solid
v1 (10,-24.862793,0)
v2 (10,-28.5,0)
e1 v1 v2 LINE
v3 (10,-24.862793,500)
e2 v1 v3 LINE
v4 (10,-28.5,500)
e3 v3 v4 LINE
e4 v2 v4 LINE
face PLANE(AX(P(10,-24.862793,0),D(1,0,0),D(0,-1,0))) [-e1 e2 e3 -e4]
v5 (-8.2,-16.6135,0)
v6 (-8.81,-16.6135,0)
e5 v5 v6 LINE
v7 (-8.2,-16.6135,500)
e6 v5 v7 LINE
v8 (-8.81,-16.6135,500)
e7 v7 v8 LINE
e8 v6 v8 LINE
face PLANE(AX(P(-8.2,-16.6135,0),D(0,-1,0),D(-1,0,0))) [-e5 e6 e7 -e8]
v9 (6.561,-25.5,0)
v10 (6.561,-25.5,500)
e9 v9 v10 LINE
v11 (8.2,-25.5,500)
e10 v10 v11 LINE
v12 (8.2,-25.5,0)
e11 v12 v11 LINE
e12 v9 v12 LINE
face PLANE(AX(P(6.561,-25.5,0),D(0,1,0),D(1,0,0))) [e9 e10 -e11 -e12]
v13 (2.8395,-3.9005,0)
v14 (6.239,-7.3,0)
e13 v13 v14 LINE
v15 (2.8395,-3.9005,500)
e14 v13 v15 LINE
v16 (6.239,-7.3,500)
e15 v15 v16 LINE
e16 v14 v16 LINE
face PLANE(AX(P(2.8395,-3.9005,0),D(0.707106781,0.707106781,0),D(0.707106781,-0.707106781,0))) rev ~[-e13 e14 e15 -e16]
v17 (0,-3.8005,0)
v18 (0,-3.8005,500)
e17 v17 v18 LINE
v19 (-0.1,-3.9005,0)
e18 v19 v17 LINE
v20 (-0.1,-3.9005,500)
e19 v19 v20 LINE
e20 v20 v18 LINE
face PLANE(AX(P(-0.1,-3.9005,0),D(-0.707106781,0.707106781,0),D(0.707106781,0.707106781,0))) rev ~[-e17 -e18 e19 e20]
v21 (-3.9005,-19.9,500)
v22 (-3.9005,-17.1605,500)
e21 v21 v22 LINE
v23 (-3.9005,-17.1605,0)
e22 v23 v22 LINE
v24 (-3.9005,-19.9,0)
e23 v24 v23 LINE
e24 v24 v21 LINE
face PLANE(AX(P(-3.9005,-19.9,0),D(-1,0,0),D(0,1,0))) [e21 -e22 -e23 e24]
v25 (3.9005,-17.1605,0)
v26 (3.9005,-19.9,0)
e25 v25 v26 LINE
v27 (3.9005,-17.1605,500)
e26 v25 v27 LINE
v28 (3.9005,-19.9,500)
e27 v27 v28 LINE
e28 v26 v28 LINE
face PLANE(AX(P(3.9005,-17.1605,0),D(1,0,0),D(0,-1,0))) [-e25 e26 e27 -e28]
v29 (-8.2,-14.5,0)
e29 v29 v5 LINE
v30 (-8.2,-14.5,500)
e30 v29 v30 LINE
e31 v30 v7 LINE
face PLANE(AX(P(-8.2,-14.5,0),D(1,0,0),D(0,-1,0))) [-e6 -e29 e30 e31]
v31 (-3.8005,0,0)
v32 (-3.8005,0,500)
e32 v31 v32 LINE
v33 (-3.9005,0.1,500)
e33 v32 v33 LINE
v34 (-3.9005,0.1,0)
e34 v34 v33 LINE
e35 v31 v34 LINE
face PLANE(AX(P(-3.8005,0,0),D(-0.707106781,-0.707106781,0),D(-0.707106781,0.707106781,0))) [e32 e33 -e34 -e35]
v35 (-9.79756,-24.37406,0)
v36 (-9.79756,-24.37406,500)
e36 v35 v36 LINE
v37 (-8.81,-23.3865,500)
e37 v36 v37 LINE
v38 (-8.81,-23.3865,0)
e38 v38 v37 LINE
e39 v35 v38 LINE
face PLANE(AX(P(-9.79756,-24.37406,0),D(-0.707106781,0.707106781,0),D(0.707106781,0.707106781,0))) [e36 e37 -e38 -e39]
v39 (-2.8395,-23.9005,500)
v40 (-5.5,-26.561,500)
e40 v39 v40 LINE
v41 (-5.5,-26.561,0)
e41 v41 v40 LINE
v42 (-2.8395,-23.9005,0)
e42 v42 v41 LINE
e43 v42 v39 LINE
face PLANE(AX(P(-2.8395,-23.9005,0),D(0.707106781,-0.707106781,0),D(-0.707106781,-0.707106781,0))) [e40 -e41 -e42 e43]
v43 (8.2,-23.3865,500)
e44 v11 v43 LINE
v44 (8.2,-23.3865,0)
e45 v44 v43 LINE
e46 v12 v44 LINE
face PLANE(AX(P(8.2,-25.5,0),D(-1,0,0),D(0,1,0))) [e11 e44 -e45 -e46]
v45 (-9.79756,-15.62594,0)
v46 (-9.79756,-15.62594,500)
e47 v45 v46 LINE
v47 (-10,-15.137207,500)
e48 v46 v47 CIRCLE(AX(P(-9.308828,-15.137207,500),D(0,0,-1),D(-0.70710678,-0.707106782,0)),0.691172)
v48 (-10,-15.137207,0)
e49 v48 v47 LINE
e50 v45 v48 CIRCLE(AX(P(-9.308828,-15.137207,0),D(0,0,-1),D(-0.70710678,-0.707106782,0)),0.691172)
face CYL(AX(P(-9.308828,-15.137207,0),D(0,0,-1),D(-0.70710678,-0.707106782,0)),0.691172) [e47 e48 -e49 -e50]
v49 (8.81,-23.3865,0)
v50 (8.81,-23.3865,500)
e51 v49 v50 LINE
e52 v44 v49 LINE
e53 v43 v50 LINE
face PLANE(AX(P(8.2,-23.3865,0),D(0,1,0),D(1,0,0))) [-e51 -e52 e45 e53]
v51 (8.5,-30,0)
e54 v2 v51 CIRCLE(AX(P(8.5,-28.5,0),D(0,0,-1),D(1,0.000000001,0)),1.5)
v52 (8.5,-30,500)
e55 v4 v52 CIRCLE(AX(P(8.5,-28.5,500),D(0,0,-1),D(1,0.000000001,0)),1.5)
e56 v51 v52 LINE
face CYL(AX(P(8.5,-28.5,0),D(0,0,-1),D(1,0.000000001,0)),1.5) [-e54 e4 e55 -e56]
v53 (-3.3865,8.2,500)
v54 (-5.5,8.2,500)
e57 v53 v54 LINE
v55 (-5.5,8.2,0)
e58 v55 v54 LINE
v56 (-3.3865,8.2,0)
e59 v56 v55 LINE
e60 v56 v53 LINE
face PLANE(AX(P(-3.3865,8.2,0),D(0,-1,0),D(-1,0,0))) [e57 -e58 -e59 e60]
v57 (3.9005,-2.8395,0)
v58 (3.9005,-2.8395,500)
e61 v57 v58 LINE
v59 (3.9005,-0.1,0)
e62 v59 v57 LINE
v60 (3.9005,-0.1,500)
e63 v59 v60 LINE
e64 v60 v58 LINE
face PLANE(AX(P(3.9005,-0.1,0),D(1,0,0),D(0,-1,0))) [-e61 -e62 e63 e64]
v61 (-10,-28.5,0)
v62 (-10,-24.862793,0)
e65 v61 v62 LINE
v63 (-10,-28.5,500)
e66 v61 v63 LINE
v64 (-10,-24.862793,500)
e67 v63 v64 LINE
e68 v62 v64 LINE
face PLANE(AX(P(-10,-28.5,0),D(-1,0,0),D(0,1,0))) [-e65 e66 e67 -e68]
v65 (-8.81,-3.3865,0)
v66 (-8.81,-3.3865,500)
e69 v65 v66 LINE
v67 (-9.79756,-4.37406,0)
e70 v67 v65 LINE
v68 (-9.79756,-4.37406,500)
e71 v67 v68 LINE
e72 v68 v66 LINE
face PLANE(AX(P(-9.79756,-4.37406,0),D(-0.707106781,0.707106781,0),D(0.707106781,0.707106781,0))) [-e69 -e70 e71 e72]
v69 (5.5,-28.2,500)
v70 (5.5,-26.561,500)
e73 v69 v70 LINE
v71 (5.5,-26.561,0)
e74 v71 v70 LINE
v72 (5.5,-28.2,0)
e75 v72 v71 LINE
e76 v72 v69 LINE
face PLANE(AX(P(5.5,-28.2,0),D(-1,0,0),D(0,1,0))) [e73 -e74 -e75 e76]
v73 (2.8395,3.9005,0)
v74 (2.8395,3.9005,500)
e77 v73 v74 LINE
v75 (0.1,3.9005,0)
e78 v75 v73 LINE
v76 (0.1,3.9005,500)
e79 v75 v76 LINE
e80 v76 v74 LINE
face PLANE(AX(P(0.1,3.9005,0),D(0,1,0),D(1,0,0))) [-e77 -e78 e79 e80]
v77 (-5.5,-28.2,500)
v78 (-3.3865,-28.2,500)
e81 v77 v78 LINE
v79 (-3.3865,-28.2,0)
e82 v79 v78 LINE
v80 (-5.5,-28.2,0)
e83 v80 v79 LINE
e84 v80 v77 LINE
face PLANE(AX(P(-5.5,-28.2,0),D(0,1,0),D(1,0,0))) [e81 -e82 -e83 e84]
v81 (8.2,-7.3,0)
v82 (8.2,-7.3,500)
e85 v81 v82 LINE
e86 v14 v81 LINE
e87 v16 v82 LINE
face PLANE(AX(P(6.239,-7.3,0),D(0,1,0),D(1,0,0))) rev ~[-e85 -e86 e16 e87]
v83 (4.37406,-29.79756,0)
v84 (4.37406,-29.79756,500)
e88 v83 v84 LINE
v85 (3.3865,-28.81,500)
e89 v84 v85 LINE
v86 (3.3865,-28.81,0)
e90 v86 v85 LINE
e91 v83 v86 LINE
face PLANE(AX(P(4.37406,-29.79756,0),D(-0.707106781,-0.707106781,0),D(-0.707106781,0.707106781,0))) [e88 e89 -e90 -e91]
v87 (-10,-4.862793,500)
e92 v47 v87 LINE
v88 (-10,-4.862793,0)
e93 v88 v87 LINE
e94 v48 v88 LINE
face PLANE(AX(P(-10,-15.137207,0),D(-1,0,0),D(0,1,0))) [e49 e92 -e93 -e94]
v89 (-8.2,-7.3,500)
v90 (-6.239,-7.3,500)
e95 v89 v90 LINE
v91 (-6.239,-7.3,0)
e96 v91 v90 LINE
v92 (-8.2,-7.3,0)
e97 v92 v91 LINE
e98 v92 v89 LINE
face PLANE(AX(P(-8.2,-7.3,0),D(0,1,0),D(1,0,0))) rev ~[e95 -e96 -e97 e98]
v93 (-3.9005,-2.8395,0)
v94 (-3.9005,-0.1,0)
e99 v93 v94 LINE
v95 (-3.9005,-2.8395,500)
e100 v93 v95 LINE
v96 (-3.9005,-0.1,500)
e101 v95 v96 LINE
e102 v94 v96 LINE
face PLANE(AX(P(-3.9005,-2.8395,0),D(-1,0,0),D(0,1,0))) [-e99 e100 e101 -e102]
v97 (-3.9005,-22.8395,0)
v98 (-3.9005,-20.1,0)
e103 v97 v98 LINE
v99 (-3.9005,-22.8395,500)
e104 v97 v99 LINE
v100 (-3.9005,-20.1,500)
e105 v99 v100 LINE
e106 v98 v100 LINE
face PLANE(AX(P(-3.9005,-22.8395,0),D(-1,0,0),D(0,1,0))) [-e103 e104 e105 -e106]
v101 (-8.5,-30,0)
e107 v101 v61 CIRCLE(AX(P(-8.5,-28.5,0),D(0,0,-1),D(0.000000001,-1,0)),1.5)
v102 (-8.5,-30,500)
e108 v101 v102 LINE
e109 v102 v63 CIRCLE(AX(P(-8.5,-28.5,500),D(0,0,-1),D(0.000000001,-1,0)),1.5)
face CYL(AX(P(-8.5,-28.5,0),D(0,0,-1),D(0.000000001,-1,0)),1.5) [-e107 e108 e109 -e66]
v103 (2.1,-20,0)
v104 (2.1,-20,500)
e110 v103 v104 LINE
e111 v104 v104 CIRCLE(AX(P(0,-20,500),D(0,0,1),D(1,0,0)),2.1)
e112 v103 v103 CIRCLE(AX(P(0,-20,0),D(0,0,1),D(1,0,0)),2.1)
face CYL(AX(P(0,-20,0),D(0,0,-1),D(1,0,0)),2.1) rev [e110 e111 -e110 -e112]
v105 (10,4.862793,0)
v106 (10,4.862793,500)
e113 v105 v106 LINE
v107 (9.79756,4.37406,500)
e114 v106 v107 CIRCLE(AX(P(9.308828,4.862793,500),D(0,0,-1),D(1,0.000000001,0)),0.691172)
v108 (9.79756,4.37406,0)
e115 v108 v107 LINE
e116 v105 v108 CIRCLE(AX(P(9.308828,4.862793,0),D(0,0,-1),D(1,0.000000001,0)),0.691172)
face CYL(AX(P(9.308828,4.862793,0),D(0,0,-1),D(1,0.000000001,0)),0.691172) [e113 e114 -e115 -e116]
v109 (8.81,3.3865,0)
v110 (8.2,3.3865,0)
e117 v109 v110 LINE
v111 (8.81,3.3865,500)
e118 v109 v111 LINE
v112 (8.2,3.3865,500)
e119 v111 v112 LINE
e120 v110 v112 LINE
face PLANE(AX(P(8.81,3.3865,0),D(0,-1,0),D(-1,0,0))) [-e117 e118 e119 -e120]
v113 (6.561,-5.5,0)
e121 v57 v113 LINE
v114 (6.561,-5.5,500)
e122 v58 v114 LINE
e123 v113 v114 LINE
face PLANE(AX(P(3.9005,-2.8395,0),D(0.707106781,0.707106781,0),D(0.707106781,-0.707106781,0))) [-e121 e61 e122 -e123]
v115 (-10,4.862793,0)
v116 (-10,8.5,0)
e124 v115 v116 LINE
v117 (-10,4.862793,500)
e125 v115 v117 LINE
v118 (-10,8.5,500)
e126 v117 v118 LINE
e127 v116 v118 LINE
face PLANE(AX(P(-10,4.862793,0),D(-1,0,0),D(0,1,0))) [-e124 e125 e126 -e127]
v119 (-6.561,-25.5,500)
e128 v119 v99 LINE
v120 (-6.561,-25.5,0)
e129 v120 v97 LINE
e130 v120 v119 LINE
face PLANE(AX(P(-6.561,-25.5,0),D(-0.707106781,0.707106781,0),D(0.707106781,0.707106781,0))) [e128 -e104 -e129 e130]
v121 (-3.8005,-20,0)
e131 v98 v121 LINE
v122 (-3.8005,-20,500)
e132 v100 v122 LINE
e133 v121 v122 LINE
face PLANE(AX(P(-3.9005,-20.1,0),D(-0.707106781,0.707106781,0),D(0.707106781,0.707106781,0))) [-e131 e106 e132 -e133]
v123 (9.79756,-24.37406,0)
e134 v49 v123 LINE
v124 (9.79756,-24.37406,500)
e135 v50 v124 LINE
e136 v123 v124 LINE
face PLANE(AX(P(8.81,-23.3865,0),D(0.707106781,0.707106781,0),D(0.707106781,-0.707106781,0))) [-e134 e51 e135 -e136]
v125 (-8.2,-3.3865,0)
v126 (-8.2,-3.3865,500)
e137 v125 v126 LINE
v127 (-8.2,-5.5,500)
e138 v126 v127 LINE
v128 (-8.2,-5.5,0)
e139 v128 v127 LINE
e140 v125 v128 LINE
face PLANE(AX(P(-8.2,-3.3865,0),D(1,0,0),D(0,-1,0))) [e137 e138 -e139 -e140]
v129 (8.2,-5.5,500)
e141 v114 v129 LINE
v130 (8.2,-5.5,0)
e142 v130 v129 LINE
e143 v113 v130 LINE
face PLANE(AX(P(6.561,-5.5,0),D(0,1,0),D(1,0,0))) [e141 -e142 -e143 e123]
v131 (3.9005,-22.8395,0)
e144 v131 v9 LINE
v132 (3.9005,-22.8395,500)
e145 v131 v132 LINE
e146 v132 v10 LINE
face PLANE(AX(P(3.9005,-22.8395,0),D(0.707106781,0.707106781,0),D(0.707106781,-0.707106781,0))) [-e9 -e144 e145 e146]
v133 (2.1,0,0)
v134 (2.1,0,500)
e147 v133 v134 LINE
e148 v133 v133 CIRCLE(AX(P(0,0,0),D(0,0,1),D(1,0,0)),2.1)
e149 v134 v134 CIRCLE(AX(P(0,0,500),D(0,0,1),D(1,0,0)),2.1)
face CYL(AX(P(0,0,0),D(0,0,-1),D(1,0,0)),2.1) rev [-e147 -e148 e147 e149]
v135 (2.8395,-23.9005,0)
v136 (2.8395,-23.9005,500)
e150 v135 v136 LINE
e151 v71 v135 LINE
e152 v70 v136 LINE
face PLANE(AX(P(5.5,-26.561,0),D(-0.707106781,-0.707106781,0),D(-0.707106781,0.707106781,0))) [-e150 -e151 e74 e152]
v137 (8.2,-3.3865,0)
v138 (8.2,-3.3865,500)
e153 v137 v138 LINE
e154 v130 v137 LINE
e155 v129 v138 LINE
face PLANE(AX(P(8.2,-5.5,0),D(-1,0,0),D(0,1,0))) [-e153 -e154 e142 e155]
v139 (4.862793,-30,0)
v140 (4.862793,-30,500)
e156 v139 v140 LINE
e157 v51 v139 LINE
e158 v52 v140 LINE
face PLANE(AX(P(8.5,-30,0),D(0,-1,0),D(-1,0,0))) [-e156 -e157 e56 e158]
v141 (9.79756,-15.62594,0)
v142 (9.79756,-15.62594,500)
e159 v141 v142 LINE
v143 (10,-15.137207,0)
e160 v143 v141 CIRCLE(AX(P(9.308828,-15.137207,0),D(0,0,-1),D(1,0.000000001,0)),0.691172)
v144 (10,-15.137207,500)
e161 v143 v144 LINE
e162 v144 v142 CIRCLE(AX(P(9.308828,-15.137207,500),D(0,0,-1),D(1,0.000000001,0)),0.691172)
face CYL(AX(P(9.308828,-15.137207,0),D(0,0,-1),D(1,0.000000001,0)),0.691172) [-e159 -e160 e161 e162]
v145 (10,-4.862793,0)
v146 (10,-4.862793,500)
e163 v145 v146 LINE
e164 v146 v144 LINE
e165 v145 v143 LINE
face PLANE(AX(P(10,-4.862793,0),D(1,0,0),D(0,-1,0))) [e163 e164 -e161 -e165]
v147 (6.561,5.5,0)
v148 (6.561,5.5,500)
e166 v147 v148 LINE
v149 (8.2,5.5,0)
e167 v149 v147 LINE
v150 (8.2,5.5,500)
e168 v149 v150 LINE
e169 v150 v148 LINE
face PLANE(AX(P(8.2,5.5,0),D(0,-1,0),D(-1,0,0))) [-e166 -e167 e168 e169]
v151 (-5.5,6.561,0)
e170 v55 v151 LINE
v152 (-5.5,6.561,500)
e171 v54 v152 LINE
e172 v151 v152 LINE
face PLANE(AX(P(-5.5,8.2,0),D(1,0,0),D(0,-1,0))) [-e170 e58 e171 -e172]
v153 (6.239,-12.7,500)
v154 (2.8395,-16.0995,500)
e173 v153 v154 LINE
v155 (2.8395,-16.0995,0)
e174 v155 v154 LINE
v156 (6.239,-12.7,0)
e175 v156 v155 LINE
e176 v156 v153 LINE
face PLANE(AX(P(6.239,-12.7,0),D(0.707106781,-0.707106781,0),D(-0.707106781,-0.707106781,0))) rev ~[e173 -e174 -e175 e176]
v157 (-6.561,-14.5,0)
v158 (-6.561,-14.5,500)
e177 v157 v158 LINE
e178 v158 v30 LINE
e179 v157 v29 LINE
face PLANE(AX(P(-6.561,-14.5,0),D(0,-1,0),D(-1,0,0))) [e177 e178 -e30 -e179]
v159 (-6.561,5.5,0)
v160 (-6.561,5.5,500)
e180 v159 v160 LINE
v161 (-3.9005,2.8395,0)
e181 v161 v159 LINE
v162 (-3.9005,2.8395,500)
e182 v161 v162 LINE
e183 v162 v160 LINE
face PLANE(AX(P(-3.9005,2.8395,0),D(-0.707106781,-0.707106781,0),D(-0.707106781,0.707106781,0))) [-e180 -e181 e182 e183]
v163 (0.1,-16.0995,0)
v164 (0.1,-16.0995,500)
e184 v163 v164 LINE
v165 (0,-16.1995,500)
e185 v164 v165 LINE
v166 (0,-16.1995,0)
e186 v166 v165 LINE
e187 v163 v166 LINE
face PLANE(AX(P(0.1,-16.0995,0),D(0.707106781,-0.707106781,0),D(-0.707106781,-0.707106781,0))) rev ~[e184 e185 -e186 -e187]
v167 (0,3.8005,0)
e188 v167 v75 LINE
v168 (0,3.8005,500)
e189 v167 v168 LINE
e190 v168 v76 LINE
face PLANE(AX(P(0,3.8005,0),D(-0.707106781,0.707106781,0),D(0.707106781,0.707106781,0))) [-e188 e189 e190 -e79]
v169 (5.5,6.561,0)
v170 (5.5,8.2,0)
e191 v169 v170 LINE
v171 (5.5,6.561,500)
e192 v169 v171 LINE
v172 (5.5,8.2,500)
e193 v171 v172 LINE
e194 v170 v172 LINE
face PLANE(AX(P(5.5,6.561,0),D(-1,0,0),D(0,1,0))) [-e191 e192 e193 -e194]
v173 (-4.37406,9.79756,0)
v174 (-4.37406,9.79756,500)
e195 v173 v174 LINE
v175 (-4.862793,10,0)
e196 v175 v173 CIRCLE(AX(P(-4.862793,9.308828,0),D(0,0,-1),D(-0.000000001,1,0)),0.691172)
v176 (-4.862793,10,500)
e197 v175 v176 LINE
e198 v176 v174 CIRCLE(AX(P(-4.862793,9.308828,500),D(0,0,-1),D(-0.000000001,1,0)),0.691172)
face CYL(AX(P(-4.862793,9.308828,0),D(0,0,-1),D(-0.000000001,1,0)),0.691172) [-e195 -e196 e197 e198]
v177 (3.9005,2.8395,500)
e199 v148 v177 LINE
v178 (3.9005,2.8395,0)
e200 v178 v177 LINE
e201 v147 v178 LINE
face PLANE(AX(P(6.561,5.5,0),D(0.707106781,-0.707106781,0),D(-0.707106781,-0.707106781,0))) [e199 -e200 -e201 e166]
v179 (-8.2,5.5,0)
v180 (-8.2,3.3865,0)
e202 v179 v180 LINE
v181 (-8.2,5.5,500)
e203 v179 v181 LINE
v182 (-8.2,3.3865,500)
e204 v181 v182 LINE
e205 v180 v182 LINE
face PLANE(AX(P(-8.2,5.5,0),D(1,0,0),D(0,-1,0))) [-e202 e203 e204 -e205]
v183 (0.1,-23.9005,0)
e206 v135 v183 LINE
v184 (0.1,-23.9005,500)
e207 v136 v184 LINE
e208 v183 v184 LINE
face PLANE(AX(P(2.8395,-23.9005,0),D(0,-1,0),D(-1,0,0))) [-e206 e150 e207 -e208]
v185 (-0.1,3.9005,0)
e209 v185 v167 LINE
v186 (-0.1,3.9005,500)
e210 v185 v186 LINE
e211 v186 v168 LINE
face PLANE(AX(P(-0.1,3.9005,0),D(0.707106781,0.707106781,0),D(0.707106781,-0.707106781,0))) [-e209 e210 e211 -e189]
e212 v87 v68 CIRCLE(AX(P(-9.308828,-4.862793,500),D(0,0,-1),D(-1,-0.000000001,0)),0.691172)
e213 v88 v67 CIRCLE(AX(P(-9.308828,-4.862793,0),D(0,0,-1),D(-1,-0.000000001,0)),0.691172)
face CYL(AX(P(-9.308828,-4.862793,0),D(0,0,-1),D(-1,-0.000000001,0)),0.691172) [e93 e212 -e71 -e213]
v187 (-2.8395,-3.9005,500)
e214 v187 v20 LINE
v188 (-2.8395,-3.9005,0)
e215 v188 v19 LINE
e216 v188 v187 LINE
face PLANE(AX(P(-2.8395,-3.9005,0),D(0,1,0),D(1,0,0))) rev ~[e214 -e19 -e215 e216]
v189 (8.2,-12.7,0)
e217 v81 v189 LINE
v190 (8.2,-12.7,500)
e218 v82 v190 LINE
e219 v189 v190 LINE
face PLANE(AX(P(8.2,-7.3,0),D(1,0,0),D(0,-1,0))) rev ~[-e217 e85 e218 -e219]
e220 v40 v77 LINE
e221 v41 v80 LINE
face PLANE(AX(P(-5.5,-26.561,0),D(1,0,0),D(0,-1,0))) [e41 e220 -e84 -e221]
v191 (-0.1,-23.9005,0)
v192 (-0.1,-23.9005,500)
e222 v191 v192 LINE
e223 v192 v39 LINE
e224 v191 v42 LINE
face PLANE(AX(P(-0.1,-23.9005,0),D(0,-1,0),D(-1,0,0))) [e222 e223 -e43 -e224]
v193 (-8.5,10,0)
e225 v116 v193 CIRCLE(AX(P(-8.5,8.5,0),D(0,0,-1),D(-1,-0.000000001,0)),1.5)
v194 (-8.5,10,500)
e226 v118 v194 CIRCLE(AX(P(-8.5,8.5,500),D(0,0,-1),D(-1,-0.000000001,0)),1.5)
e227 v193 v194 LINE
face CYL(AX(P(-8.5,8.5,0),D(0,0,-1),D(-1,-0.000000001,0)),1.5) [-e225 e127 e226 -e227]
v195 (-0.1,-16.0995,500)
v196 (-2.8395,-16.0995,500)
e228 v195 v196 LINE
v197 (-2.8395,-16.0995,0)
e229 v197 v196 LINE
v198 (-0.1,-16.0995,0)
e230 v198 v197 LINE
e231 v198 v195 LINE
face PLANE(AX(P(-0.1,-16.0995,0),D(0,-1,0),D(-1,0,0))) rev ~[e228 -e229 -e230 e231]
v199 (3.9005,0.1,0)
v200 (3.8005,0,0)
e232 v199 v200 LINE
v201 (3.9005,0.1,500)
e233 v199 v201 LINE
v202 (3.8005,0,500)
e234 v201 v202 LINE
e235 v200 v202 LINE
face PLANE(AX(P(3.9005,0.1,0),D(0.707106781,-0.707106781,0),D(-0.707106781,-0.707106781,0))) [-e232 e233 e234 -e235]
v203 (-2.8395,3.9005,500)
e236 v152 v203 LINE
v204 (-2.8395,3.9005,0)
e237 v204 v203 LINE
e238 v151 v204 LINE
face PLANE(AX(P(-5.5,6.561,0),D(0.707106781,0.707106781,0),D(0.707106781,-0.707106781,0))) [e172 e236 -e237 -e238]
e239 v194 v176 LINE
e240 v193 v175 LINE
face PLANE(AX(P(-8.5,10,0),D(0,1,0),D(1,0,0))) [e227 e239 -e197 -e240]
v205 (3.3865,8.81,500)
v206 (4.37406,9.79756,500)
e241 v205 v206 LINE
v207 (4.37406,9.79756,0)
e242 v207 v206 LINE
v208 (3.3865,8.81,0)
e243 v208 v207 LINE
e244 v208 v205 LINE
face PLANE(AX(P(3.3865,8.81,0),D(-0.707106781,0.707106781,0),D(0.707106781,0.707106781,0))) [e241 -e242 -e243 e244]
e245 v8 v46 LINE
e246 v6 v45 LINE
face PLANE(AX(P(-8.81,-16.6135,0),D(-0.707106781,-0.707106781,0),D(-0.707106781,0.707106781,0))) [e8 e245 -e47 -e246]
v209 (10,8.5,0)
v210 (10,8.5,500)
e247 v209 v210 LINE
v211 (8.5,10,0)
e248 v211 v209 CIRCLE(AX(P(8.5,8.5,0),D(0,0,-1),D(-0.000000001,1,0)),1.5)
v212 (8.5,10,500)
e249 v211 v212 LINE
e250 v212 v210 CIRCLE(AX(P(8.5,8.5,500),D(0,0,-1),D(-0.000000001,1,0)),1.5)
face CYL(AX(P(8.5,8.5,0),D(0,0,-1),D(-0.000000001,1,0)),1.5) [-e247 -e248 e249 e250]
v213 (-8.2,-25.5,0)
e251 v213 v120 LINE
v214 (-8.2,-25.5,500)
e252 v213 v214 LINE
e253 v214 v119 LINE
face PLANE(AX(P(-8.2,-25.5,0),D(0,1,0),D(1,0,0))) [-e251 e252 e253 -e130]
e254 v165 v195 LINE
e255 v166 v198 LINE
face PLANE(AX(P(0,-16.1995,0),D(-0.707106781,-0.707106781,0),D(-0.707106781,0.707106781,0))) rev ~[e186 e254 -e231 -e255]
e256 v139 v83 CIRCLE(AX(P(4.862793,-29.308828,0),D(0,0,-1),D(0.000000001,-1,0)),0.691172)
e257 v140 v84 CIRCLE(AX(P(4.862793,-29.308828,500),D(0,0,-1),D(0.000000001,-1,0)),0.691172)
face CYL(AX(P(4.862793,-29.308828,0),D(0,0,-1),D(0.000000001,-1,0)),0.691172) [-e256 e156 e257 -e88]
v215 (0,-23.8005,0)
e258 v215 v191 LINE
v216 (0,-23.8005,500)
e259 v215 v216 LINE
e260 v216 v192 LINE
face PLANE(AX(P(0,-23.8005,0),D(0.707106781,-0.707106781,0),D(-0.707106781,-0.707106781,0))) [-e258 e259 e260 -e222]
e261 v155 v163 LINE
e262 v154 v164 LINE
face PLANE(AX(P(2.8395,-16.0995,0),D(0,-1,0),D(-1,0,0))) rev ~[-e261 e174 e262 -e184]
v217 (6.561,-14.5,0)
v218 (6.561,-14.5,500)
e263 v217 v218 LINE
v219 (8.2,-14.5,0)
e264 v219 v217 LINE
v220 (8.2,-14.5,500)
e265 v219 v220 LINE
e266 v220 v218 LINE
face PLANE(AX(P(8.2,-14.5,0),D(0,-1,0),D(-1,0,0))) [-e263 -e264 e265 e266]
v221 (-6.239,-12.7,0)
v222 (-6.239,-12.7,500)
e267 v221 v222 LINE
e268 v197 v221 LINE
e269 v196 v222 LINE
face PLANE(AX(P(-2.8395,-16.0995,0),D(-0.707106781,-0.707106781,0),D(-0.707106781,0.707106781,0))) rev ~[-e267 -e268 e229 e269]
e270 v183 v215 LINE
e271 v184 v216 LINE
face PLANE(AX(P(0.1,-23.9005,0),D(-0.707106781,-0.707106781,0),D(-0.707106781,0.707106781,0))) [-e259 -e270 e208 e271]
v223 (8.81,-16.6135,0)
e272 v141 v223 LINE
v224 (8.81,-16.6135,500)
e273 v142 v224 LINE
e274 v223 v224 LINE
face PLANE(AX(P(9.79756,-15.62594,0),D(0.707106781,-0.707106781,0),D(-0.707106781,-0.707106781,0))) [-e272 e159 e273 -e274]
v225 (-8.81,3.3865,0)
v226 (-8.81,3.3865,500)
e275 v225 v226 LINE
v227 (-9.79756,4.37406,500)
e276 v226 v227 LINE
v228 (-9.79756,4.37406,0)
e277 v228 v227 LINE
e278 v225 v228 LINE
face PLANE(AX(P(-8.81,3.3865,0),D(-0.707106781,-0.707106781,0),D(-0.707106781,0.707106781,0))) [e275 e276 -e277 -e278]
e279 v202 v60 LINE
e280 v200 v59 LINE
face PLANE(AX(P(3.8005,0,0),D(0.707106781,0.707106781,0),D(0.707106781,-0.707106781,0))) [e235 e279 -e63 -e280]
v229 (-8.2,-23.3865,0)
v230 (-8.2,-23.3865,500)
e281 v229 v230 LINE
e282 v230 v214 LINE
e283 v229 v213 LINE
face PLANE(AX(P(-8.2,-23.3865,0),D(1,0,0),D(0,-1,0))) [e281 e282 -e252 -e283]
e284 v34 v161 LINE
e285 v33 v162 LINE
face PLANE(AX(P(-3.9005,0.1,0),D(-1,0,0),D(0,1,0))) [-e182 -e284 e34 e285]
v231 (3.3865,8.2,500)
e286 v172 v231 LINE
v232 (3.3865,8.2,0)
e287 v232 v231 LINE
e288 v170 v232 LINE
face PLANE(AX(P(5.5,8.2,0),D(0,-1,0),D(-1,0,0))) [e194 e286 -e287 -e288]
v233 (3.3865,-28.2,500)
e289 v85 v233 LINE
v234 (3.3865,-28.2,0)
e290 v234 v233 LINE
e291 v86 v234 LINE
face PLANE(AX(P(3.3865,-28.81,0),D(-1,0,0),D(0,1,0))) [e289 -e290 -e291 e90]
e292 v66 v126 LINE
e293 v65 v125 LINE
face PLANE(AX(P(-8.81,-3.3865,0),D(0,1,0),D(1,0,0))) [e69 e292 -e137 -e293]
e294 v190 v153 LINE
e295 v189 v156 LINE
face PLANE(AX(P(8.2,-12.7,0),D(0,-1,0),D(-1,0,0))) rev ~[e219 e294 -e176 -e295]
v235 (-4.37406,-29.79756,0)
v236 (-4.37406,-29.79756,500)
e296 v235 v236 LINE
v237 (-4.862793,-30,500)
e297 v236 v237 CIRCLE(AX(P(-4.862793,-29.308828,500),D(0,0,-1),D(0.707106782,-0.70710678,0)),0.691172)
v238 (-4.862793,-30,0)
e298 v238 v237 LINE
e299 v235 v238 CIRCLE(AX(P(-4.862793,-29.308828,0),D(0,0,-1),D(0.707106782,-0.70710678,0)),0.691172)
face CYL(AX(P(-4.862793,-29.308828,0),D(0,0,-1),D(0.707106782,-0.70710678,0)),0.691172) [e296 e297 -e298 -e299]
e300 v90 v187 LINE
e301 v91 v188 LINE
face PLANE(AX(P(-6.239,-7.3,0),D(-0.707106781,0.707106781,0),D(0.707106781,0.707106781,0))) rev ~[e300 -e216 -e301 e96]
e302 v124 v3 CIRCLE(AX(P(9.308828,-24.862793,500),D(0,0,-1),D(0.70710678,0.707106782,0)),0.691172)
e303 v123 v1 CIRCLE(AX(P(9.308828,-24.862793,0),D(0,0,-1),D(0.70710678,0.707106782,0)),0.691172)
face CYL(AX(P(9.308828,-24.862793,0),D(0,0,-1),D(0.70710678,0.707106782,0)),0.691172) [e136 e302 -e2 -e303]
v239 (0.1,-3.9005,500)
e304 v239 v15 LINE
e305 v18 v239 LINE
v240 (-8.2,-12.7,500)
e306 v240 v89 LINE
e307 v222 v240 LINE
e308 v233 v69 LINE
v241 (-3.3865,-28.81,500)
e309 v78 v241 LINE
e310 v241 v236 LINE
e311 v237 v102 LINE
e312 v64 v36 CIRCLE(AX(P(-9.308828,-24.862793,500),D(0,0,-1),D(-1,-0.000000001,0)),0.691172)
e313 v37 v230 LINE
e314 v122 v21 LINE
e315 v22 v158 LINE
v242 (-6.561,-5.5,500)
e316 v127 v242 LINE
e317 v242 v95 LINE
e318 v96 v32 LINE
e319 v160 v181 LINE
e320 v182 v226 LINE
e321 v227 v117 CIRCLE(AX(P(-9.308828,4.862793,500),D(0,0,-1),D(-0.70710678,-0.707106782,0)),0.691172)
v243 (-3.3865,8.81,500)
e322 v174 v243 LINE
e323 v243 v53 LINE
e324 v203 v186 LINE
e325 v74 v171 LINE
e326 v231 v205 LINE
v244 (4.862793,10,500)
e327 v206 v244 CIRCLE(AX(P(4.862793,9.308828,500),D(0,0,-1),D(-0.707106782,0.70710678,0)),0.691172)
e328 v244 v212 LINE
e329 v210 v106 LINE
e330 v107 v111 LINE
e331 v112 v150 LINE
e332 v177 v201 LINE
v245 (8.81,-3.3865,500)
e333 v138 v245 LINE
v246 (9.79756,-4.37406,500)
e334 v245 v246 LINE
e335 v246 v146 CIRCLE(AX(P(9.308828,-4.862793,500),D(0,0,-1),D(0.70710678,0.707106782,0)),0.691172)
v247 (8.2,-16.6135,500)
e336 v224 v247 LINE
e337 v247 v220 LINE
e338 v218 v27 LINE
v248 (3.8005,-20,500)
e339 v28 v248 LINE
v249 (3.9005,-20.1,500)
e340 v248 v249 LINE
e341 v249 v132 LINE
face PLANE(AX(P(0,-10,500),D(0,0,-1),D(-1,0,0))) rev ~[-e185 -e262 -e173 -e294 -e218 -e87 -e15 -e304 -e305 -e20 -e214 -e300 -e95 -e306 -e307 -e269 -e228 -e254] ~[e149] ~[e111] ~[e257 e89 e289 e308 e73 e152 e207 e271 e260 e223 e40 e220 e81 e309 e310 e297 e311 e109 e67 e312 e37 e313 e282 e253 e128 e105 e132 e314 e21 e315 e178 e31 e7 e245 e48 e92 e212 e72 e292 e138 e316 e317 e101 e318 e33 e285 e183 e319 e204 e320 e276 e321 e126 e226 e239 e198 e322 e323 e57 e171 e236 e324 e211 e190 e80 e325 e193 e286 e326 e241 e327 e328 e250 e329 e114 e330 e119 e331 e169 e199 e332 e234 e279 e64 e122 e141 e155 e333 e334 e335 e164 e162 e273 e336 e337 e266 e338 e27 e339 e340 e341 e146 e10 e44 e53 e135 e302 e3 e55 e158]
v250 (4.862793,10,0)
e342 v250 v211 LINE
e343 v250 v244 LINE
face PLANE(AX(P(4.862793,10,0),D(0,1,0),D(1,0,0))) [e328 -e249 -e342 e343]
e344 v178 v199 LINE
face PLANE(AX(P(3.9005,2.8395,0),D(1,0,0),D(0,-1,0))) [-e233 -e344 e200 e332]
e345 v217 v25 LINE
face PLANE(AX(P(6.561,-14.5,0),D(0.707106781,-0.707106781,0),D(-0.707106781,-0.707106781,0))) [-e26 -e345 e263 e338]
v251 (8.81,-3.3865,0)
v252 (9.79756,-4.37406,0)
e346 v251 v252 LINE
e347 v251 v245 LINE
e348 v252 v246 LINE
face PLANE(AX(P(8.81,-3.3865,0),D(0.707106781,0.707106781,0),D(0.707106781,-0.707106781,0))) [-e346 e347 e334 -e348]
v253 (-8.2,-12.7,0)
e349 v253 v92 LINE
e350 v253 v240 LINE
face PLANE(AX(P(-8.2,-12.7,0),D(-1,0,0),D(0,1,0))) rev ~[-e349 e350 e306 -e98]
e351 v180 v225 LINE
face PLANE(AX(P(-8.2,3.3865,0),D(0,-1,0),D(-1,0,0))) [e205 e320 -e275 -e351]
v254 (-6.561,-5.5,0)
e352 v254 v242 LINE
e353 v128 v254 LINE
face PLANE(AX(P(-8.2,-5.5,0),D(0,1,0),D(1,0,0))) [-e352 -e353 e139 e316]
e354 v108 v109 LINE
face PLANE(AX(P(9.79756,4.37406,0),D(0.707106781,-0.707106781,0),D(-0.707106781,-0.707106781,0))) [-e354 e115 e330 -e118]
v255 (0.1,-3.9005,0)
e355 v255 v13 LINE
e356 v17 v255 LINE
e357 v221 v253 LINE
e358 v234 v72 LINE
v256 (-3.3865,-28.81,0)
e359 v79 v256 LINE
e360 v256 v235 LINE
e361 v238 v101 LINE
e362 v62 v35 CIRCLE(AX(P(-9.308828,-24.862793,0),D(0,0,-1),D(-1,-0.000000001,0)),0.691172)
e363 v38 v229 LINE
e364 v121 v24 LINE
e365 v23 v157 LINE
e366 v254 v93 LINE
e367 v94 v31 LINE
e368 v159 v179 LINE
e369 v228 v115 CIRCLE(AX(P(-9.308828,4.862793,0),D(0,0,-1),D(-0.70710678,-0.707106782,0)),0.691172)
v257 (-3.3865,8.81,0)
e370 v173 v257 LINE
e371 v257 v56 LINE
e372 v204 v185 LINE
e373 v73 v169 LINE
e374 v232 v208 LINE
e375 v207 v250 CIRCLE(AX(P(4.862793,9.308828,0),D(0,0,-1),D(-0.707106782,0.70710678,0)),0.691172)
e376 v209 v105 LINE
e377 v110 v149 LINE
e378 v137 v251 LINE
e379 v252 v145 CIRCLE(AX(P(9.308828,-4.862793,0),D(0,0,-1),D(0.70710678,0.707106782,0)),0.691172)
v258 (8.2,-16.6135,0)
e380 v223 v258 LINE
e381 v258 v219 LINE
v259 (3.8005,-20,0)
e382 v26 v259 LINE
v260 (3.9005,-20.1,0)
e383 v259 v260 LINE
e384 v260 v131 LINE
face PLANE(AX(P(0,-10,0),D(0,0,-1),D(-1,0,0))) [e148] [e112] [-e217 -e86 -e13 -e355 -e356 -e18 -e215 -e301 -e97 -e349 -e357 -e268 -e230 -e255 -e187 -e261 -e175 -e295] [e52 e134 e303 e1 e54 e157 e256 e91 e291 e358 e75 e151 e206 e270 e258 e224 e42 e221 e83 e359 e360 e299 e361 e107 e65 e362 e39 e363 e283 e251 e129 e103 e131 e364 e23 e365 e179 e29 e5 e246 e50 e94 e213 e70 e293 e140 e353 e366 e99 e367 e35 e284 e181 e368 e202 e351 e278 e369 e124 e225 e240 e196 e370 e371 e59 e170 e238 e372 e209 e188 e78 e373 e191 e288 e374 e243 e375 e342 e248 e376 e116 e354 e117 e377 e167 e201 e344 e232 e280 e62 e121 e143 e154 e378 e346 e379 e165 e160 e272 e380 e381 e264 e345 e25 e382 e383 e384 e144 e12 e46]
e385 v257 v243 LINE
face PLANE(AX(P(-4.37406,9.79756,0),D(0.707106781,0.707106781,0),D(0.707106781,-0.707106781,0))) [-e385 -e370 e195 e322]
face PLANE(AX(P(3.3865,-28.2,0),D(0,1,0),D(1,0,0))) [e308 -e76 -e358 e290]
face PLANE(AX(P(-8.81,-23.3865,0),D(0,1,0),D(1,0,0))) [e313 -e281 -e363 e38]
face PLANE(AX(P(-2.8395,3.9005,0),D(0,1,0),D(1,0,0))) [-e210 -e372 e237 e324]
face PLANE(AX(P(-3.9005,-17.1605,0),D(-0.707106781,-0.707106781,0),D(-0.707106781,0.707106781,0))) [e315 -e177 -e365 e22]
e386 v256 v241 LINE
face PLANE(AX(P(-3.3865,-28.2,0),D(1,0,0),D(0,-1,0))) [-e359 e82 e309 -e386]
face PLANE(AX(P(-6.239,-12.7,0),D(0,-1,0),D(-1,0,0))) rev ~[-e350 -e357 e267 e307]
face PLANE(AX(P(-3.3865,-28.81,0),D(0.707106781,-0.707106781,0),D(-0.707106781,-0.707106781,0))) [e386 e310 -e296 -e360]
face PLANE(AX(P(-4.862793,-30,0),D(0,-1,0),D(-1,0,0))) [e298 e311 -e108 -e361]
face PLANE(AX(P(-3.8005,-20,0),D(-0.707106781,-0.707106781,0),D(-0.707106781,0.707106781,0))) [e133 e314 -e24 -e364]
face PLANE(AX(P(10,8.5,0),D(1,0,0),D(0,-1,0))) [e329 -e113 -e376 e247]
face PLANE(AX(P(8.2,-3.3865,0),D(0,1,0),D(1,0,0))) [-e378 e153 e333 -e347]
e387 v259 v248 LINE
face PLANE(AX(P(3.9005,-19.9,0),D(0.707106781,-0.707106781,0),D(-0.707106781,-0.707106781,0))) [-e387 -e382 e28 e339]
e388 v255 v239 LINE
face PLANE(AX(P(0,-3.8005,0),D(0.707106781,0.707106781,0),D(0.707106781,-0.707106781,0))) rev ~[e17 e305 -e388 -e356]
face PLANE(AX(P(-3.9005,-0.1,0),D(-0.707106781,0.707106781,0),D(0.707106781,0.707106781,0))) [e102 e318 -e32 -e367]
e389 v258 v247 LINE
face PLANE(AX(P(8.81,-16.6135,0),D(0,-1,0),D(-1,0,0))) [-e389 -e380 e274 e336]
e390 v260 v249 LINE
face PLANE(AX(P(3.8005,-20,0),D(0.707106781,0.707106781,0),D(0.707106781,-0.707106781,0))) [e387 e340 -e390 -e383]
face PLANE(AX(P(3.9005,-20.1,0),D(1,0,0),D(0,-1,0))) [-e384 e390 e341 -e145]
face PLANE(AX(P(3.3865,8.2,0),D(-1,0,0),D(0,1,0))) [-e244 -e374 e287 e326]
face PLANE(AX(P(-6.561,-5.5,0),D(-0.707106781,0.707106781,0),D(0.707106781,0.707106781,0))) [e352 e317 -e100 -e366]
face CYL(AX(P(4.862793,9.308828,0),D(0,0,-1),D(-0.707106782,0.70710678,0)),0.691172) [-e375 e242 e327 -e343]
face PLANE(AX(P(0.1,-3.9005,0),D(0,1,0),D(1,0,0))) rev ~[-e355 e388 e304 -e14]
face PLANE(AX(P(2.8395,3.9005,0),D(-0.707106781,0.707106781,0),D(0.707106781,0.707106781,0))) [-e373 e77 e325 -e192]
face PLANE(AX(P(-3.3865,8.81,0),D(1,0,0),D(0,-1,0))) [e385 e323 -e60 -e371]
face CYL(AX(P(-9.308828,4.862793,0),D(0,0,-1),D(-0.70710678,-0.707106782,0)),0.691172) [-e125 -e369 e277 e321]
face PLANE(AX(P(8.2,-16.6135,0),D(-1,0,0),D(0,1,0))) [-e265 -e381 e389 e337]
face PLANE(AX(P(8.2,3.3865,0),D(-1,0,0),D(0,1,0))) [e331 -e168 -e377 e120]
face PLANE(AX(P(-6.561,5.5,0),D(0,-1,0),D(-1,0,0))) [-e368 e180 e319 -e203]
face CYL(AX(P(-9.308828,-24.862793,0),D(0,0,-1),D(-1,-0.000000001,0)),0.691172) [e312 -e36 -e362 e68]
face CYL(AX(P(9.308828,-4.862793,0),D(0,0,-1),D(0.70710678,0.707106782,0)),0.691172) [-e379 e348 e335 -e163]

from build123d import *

# Parameters (mm, degrees)
SKETCH1_R           = 2.1
BOSS_EXTRUDE2_DEPTH = 500


with BuildPart() as part:
    # Sketch1 → Boss-Extrude2 (new body)
    with BuildSketch(Plane.XY):
        with BuildLine():
            Line((-8.5, 10), (-4.862792737, 10))
            ThreePointArc((-4.862792737, 10), (-4.598292737, 9.947387679), (-4.374060464, 9.797560464))
            Line((-4.374060464, 9.797560464), (-3.3865, 8.81))
            Line((-3.3865, 8.81), (-3.3865, 8.2))
            Line((-3.3865, 8.2), (-5.5, 8.2))
            Line((-5.5, 8.2), (-5.5, 6.561))
            Line((-5.5, 6.561), (-2.8395, 3.9005))
            Line((-2.8395, 3.9005), (-0.1, 3.9005))
            Line((-0.1, 3.9005), (0, 3.8005))
            Line((0, 3.8005), (0.1, 3.9005))
            Line((0.1, 3.9005), (2.8395, 3.9005))
            Line((2.8395, 3.9005), (5.5, 6.561))
            Line((5.5, 6.561), (5.5, 8.2))
            Line((5.5, 8.2), (3.3865, 8.2))
            Line((3.3865, 8.2), (3.3865, 8.81))
            Line((3.3865, 8.81), (4.374060464, 9.797560464))
            ThreePointArc((4.374060464, 9.797560464), (4.598292737, 9.947387679), (4.862792737, 10))
            Line((4.862792737, 10), (8.5, 10))
            ThreePointArc((8.5, 10), (9.560660172, 9.560660172), (10, 8.5))
            Line((10, 8.5), (10, 4.862792737))
            ThreePointArc((10, 4.862792737), (9.947387679, 4.598292737), (9.797560464, 4.374060464))
            Line((9.797560464, 4.374060464), (8.81, 3.3865))
            Line((8.81, 3.3865), (8.2, 3.3865))
            Line((8.2, 3.3865), (8.2, 5.5))
            Line((8.2, 5.5), (6.561, 5.5))
            Line((6.561, 5.5), (3.9005, 2.8395))
            Line((3.9005, 2.8395), (3.9005, 0.1))
            Line((3.9005, 0.1), (3.8005, 0))
            Line((3.8005, 0), (3.9005, -0.1))
            Line((3.9005, -0.1), (3.9005, -2.8395))
            Line((3.9005, -2.8395), (6.561, -5.5))
            Line((6.561, -5.5), (8.2, -5.5))
            Line((8.2, -5.5), (8.2, -3.3865))
            Line((8.2, -3.3865), (8.81, -3.3865))
            Line((8.81, -3.3865), (9.797560464, -4.374060464))
            ThreePointArc((9.797560464, -4.374060464), (9.947387679, -4.598292737), (10, -4.862792737))
            Line((10, -4.862792737), (10, -15.137207263))
            ThreePointArc((10, -15.137207263), (9.947387679, -15.401707263), (9.797560464, -15.625939536))
            Line((9.797560464, -15.625939536), (8.81, -16.6135))
            Line((8.81, -16.6135), (8.2, -16.6135))
            Line((8.2, -16.6135), (8.2, -14.5))
            Line((8.2, -14.5), (6.561, -14.5))
            Line((6.561, -14.5), (3.9005, -17.1605))
            Line((3.9005, -17.1605), (3.9005, -19.9))
            Line((3.9005, -19.9), (3.8005, -20))
            Line((3.8005, -20), (3.9005, -20.1))
            Line((3.9005, -20.1), (3.9005, -22.8395))
            Line((3.9005, -22.8395), (6.561, -25.5))
            Line((6.561, -25.5), (8.2, -25.5))
            Line((8.2, -25.5), (8.2, -23.3865))
            Line((8.2, -23.3865), (8.81, -23.3865))
            Line((8.81, -23.3865), (9.797560464, -24.374060464))
            ThreePointArc((9.797560464, -24.374060464), (9.947387679, -24.598292737), (10, -24.862792737))
            Line((10, -24.862792737), (10, -28.5))
            ThreePointArc((10, -28.5), (9.560660172, -29.560660172), (8.5, -30))
            Line((8.5, -30), (4.862792737, -30))
            ThreePointArc((4.862792737, -30), (4.598292737, -29.947387679), (4.374060464, -29.797560464))
            Line((4.374060464, -29.797560464), (3.3865, -28.81))
            Line((3.3865, -28.81), (3.3865, -28.2))
            Line((3.3865, -28.2), (5.5, -28.2))
            Line((5.5, -28.2), (5.5, -26.561))
            Line((5.5, -26.561), (2.8395, -23.9005))
            Line((2.8395, -23.9005), (0.1, -23.9005))
            Line((0.1, -23.9005), (0, -23.8005))
            Line((0, -23.8005), (-0.1, -23.9005))
            Line((-0.1, -23.9005), (-2.8395, -23.9005))
            Line((-2.8395, -23.9005), (-5.5, -26.561))
            Line((-5.5, -26.561), (-5.5, -28.2))
            Line((-5.5, -28.2), (-3.3865, -28.2))
            Line((-3.3865, -28.2), (-3.3865, -28.81))
            Line((-3.3865, -28.81), (-4.374060464, -29.797560464))
            ThreePointArc((-4.374060464, -29.797560464), (-4.598292737, -29.947387679), (-4.862792737, -30))
            Line((-4.862792737, -30), (-8.5, -30))
            ThreePointArc((-8.5, -30), (-9.560660172, -29.560660172), (-10, -28.5))
            Line((-10, -28.5), (-10, -24.862792737))
            ThreePointArc((-10, -24.862792737), (-9.947387679, -24.598292737), (-9.797560464, -24.374060464))
            Line((-9.797560464, -24.374060464), (-8.81, -23.3865))
            Line((-8.81, -23.3865), (-8.2, -23.3865))
            Line((-8.2, -23.3865), (-8.2, -25.5))
            Line((-8.2, -25.5), (-6.561, -25.5))
            Line((-6.561, -25.5), (-3.9005, -22.8395))
            Line((-3.9005, -22.8395), (-3.9005, -20.1))
            Line((-3.9005, -20.1), (-3.8005, -20))
            Line((-3.8005, -20), (-3.9005, -19.9))
            Line((-3.9005, -19.9), (-3.9005, -17.1605))
            Line((-3.9005, -17.1605), (-6.561, -14.5))
            Line((-6.561, -14.5), (-8.2, -14.5))
            Line((-8.2, -14.5), (-8.2, -16.6135))
            Line((-8.2, -16.6135), (-8.81, -16.6135))
            Line((-8.81, -16.6135), (-9.797560464, -15.625939536))
            ThreePointArc((-9.797560464, -15.625939536), (-9.947387679, -15.401707263), (-10, -15.137207263))
            Line((-10, -15.137207263), (-10, -4.862792737))
            ThreePointArc((-10, -4.862792737), (-9.947387679, -4.598292737), (-9.797560464, -4.374060464))
            Line((-9.797560464, -4.374060464), (-8.81, -3.3865))
            Line((-8.81, -3.3865), (-8.2, -3.3865))
            Line((-8.2, -3.3865), (-8.2, -5.5))
            Line((-8.2, -5.5), (-6.561, -5.5))
            Line((-6.561, -5.5), (-3.9005, -2.8395))
            Line((-3.9005, -2.8395), (-3.9005, -0.1))
            Line((-3.9005, -0.1), (-3.8005, 0))
            Line((-3.8005, 0), (-3.9005, 0.1))
            Line((-3.9005, 0.1), (-3.9005, 2.8395))
            Line((-3.9005, 2.8395), (-6.561, 5.5))
            Line((-6.561, 5.5), (-8.2, 5.5))
            Line((-8.2, 5.5), (-8.2, 3.3865))
            Line((-8.2, 3.3865), (-8.81, 3.3865))
            Line((-8.81, 3.3865), (-9.797560464, 4.374060464))
            ThreePointArc((-9.797560464, 4.374060464), (-9.947387679, 4.598292737), (-10, 4.862792737))
            Line((-10, 4.862792737), (-10, 8.5))
            ThreePointArc((-10, 8.5), (-9.560660172, 9.560660172), (-8.5, 10))
        make_face()
        Circle(SKETCH1_R, mode=Mode.SUBTRACT)
        with Locations((0, -20)):
            Circle(SKETCH1_R, mode=Mode.SUBTRACT)
        Polygon((-8.2, -12.7), (-8.2, -7.3), (-6.239, -7.3), (-5.5, -6.561), (-2.8395, -3.9005), (-0.1, -3.9005), (0, -3.8005), (0.1, -3.9005), (2.8395, -3.9005), (5.5, -6.561), (6.239, -7.3), (8.2, -7.3), (8.2, -12.7), (6.239, -12.7), (5.5, -13.439), (2.8395, -16.0995), (0.1, -16.0995), (0, -16.1995), (-0.1, -16.0995), (-2.8395, -16.0995), (-5.5, -13.439), (-6.239, -12.7), align=None, mode=Mode.SUBTRACT)
    extrude(amount=BOSS_EXTRUDE2_DEPTH)


solid = part.part
